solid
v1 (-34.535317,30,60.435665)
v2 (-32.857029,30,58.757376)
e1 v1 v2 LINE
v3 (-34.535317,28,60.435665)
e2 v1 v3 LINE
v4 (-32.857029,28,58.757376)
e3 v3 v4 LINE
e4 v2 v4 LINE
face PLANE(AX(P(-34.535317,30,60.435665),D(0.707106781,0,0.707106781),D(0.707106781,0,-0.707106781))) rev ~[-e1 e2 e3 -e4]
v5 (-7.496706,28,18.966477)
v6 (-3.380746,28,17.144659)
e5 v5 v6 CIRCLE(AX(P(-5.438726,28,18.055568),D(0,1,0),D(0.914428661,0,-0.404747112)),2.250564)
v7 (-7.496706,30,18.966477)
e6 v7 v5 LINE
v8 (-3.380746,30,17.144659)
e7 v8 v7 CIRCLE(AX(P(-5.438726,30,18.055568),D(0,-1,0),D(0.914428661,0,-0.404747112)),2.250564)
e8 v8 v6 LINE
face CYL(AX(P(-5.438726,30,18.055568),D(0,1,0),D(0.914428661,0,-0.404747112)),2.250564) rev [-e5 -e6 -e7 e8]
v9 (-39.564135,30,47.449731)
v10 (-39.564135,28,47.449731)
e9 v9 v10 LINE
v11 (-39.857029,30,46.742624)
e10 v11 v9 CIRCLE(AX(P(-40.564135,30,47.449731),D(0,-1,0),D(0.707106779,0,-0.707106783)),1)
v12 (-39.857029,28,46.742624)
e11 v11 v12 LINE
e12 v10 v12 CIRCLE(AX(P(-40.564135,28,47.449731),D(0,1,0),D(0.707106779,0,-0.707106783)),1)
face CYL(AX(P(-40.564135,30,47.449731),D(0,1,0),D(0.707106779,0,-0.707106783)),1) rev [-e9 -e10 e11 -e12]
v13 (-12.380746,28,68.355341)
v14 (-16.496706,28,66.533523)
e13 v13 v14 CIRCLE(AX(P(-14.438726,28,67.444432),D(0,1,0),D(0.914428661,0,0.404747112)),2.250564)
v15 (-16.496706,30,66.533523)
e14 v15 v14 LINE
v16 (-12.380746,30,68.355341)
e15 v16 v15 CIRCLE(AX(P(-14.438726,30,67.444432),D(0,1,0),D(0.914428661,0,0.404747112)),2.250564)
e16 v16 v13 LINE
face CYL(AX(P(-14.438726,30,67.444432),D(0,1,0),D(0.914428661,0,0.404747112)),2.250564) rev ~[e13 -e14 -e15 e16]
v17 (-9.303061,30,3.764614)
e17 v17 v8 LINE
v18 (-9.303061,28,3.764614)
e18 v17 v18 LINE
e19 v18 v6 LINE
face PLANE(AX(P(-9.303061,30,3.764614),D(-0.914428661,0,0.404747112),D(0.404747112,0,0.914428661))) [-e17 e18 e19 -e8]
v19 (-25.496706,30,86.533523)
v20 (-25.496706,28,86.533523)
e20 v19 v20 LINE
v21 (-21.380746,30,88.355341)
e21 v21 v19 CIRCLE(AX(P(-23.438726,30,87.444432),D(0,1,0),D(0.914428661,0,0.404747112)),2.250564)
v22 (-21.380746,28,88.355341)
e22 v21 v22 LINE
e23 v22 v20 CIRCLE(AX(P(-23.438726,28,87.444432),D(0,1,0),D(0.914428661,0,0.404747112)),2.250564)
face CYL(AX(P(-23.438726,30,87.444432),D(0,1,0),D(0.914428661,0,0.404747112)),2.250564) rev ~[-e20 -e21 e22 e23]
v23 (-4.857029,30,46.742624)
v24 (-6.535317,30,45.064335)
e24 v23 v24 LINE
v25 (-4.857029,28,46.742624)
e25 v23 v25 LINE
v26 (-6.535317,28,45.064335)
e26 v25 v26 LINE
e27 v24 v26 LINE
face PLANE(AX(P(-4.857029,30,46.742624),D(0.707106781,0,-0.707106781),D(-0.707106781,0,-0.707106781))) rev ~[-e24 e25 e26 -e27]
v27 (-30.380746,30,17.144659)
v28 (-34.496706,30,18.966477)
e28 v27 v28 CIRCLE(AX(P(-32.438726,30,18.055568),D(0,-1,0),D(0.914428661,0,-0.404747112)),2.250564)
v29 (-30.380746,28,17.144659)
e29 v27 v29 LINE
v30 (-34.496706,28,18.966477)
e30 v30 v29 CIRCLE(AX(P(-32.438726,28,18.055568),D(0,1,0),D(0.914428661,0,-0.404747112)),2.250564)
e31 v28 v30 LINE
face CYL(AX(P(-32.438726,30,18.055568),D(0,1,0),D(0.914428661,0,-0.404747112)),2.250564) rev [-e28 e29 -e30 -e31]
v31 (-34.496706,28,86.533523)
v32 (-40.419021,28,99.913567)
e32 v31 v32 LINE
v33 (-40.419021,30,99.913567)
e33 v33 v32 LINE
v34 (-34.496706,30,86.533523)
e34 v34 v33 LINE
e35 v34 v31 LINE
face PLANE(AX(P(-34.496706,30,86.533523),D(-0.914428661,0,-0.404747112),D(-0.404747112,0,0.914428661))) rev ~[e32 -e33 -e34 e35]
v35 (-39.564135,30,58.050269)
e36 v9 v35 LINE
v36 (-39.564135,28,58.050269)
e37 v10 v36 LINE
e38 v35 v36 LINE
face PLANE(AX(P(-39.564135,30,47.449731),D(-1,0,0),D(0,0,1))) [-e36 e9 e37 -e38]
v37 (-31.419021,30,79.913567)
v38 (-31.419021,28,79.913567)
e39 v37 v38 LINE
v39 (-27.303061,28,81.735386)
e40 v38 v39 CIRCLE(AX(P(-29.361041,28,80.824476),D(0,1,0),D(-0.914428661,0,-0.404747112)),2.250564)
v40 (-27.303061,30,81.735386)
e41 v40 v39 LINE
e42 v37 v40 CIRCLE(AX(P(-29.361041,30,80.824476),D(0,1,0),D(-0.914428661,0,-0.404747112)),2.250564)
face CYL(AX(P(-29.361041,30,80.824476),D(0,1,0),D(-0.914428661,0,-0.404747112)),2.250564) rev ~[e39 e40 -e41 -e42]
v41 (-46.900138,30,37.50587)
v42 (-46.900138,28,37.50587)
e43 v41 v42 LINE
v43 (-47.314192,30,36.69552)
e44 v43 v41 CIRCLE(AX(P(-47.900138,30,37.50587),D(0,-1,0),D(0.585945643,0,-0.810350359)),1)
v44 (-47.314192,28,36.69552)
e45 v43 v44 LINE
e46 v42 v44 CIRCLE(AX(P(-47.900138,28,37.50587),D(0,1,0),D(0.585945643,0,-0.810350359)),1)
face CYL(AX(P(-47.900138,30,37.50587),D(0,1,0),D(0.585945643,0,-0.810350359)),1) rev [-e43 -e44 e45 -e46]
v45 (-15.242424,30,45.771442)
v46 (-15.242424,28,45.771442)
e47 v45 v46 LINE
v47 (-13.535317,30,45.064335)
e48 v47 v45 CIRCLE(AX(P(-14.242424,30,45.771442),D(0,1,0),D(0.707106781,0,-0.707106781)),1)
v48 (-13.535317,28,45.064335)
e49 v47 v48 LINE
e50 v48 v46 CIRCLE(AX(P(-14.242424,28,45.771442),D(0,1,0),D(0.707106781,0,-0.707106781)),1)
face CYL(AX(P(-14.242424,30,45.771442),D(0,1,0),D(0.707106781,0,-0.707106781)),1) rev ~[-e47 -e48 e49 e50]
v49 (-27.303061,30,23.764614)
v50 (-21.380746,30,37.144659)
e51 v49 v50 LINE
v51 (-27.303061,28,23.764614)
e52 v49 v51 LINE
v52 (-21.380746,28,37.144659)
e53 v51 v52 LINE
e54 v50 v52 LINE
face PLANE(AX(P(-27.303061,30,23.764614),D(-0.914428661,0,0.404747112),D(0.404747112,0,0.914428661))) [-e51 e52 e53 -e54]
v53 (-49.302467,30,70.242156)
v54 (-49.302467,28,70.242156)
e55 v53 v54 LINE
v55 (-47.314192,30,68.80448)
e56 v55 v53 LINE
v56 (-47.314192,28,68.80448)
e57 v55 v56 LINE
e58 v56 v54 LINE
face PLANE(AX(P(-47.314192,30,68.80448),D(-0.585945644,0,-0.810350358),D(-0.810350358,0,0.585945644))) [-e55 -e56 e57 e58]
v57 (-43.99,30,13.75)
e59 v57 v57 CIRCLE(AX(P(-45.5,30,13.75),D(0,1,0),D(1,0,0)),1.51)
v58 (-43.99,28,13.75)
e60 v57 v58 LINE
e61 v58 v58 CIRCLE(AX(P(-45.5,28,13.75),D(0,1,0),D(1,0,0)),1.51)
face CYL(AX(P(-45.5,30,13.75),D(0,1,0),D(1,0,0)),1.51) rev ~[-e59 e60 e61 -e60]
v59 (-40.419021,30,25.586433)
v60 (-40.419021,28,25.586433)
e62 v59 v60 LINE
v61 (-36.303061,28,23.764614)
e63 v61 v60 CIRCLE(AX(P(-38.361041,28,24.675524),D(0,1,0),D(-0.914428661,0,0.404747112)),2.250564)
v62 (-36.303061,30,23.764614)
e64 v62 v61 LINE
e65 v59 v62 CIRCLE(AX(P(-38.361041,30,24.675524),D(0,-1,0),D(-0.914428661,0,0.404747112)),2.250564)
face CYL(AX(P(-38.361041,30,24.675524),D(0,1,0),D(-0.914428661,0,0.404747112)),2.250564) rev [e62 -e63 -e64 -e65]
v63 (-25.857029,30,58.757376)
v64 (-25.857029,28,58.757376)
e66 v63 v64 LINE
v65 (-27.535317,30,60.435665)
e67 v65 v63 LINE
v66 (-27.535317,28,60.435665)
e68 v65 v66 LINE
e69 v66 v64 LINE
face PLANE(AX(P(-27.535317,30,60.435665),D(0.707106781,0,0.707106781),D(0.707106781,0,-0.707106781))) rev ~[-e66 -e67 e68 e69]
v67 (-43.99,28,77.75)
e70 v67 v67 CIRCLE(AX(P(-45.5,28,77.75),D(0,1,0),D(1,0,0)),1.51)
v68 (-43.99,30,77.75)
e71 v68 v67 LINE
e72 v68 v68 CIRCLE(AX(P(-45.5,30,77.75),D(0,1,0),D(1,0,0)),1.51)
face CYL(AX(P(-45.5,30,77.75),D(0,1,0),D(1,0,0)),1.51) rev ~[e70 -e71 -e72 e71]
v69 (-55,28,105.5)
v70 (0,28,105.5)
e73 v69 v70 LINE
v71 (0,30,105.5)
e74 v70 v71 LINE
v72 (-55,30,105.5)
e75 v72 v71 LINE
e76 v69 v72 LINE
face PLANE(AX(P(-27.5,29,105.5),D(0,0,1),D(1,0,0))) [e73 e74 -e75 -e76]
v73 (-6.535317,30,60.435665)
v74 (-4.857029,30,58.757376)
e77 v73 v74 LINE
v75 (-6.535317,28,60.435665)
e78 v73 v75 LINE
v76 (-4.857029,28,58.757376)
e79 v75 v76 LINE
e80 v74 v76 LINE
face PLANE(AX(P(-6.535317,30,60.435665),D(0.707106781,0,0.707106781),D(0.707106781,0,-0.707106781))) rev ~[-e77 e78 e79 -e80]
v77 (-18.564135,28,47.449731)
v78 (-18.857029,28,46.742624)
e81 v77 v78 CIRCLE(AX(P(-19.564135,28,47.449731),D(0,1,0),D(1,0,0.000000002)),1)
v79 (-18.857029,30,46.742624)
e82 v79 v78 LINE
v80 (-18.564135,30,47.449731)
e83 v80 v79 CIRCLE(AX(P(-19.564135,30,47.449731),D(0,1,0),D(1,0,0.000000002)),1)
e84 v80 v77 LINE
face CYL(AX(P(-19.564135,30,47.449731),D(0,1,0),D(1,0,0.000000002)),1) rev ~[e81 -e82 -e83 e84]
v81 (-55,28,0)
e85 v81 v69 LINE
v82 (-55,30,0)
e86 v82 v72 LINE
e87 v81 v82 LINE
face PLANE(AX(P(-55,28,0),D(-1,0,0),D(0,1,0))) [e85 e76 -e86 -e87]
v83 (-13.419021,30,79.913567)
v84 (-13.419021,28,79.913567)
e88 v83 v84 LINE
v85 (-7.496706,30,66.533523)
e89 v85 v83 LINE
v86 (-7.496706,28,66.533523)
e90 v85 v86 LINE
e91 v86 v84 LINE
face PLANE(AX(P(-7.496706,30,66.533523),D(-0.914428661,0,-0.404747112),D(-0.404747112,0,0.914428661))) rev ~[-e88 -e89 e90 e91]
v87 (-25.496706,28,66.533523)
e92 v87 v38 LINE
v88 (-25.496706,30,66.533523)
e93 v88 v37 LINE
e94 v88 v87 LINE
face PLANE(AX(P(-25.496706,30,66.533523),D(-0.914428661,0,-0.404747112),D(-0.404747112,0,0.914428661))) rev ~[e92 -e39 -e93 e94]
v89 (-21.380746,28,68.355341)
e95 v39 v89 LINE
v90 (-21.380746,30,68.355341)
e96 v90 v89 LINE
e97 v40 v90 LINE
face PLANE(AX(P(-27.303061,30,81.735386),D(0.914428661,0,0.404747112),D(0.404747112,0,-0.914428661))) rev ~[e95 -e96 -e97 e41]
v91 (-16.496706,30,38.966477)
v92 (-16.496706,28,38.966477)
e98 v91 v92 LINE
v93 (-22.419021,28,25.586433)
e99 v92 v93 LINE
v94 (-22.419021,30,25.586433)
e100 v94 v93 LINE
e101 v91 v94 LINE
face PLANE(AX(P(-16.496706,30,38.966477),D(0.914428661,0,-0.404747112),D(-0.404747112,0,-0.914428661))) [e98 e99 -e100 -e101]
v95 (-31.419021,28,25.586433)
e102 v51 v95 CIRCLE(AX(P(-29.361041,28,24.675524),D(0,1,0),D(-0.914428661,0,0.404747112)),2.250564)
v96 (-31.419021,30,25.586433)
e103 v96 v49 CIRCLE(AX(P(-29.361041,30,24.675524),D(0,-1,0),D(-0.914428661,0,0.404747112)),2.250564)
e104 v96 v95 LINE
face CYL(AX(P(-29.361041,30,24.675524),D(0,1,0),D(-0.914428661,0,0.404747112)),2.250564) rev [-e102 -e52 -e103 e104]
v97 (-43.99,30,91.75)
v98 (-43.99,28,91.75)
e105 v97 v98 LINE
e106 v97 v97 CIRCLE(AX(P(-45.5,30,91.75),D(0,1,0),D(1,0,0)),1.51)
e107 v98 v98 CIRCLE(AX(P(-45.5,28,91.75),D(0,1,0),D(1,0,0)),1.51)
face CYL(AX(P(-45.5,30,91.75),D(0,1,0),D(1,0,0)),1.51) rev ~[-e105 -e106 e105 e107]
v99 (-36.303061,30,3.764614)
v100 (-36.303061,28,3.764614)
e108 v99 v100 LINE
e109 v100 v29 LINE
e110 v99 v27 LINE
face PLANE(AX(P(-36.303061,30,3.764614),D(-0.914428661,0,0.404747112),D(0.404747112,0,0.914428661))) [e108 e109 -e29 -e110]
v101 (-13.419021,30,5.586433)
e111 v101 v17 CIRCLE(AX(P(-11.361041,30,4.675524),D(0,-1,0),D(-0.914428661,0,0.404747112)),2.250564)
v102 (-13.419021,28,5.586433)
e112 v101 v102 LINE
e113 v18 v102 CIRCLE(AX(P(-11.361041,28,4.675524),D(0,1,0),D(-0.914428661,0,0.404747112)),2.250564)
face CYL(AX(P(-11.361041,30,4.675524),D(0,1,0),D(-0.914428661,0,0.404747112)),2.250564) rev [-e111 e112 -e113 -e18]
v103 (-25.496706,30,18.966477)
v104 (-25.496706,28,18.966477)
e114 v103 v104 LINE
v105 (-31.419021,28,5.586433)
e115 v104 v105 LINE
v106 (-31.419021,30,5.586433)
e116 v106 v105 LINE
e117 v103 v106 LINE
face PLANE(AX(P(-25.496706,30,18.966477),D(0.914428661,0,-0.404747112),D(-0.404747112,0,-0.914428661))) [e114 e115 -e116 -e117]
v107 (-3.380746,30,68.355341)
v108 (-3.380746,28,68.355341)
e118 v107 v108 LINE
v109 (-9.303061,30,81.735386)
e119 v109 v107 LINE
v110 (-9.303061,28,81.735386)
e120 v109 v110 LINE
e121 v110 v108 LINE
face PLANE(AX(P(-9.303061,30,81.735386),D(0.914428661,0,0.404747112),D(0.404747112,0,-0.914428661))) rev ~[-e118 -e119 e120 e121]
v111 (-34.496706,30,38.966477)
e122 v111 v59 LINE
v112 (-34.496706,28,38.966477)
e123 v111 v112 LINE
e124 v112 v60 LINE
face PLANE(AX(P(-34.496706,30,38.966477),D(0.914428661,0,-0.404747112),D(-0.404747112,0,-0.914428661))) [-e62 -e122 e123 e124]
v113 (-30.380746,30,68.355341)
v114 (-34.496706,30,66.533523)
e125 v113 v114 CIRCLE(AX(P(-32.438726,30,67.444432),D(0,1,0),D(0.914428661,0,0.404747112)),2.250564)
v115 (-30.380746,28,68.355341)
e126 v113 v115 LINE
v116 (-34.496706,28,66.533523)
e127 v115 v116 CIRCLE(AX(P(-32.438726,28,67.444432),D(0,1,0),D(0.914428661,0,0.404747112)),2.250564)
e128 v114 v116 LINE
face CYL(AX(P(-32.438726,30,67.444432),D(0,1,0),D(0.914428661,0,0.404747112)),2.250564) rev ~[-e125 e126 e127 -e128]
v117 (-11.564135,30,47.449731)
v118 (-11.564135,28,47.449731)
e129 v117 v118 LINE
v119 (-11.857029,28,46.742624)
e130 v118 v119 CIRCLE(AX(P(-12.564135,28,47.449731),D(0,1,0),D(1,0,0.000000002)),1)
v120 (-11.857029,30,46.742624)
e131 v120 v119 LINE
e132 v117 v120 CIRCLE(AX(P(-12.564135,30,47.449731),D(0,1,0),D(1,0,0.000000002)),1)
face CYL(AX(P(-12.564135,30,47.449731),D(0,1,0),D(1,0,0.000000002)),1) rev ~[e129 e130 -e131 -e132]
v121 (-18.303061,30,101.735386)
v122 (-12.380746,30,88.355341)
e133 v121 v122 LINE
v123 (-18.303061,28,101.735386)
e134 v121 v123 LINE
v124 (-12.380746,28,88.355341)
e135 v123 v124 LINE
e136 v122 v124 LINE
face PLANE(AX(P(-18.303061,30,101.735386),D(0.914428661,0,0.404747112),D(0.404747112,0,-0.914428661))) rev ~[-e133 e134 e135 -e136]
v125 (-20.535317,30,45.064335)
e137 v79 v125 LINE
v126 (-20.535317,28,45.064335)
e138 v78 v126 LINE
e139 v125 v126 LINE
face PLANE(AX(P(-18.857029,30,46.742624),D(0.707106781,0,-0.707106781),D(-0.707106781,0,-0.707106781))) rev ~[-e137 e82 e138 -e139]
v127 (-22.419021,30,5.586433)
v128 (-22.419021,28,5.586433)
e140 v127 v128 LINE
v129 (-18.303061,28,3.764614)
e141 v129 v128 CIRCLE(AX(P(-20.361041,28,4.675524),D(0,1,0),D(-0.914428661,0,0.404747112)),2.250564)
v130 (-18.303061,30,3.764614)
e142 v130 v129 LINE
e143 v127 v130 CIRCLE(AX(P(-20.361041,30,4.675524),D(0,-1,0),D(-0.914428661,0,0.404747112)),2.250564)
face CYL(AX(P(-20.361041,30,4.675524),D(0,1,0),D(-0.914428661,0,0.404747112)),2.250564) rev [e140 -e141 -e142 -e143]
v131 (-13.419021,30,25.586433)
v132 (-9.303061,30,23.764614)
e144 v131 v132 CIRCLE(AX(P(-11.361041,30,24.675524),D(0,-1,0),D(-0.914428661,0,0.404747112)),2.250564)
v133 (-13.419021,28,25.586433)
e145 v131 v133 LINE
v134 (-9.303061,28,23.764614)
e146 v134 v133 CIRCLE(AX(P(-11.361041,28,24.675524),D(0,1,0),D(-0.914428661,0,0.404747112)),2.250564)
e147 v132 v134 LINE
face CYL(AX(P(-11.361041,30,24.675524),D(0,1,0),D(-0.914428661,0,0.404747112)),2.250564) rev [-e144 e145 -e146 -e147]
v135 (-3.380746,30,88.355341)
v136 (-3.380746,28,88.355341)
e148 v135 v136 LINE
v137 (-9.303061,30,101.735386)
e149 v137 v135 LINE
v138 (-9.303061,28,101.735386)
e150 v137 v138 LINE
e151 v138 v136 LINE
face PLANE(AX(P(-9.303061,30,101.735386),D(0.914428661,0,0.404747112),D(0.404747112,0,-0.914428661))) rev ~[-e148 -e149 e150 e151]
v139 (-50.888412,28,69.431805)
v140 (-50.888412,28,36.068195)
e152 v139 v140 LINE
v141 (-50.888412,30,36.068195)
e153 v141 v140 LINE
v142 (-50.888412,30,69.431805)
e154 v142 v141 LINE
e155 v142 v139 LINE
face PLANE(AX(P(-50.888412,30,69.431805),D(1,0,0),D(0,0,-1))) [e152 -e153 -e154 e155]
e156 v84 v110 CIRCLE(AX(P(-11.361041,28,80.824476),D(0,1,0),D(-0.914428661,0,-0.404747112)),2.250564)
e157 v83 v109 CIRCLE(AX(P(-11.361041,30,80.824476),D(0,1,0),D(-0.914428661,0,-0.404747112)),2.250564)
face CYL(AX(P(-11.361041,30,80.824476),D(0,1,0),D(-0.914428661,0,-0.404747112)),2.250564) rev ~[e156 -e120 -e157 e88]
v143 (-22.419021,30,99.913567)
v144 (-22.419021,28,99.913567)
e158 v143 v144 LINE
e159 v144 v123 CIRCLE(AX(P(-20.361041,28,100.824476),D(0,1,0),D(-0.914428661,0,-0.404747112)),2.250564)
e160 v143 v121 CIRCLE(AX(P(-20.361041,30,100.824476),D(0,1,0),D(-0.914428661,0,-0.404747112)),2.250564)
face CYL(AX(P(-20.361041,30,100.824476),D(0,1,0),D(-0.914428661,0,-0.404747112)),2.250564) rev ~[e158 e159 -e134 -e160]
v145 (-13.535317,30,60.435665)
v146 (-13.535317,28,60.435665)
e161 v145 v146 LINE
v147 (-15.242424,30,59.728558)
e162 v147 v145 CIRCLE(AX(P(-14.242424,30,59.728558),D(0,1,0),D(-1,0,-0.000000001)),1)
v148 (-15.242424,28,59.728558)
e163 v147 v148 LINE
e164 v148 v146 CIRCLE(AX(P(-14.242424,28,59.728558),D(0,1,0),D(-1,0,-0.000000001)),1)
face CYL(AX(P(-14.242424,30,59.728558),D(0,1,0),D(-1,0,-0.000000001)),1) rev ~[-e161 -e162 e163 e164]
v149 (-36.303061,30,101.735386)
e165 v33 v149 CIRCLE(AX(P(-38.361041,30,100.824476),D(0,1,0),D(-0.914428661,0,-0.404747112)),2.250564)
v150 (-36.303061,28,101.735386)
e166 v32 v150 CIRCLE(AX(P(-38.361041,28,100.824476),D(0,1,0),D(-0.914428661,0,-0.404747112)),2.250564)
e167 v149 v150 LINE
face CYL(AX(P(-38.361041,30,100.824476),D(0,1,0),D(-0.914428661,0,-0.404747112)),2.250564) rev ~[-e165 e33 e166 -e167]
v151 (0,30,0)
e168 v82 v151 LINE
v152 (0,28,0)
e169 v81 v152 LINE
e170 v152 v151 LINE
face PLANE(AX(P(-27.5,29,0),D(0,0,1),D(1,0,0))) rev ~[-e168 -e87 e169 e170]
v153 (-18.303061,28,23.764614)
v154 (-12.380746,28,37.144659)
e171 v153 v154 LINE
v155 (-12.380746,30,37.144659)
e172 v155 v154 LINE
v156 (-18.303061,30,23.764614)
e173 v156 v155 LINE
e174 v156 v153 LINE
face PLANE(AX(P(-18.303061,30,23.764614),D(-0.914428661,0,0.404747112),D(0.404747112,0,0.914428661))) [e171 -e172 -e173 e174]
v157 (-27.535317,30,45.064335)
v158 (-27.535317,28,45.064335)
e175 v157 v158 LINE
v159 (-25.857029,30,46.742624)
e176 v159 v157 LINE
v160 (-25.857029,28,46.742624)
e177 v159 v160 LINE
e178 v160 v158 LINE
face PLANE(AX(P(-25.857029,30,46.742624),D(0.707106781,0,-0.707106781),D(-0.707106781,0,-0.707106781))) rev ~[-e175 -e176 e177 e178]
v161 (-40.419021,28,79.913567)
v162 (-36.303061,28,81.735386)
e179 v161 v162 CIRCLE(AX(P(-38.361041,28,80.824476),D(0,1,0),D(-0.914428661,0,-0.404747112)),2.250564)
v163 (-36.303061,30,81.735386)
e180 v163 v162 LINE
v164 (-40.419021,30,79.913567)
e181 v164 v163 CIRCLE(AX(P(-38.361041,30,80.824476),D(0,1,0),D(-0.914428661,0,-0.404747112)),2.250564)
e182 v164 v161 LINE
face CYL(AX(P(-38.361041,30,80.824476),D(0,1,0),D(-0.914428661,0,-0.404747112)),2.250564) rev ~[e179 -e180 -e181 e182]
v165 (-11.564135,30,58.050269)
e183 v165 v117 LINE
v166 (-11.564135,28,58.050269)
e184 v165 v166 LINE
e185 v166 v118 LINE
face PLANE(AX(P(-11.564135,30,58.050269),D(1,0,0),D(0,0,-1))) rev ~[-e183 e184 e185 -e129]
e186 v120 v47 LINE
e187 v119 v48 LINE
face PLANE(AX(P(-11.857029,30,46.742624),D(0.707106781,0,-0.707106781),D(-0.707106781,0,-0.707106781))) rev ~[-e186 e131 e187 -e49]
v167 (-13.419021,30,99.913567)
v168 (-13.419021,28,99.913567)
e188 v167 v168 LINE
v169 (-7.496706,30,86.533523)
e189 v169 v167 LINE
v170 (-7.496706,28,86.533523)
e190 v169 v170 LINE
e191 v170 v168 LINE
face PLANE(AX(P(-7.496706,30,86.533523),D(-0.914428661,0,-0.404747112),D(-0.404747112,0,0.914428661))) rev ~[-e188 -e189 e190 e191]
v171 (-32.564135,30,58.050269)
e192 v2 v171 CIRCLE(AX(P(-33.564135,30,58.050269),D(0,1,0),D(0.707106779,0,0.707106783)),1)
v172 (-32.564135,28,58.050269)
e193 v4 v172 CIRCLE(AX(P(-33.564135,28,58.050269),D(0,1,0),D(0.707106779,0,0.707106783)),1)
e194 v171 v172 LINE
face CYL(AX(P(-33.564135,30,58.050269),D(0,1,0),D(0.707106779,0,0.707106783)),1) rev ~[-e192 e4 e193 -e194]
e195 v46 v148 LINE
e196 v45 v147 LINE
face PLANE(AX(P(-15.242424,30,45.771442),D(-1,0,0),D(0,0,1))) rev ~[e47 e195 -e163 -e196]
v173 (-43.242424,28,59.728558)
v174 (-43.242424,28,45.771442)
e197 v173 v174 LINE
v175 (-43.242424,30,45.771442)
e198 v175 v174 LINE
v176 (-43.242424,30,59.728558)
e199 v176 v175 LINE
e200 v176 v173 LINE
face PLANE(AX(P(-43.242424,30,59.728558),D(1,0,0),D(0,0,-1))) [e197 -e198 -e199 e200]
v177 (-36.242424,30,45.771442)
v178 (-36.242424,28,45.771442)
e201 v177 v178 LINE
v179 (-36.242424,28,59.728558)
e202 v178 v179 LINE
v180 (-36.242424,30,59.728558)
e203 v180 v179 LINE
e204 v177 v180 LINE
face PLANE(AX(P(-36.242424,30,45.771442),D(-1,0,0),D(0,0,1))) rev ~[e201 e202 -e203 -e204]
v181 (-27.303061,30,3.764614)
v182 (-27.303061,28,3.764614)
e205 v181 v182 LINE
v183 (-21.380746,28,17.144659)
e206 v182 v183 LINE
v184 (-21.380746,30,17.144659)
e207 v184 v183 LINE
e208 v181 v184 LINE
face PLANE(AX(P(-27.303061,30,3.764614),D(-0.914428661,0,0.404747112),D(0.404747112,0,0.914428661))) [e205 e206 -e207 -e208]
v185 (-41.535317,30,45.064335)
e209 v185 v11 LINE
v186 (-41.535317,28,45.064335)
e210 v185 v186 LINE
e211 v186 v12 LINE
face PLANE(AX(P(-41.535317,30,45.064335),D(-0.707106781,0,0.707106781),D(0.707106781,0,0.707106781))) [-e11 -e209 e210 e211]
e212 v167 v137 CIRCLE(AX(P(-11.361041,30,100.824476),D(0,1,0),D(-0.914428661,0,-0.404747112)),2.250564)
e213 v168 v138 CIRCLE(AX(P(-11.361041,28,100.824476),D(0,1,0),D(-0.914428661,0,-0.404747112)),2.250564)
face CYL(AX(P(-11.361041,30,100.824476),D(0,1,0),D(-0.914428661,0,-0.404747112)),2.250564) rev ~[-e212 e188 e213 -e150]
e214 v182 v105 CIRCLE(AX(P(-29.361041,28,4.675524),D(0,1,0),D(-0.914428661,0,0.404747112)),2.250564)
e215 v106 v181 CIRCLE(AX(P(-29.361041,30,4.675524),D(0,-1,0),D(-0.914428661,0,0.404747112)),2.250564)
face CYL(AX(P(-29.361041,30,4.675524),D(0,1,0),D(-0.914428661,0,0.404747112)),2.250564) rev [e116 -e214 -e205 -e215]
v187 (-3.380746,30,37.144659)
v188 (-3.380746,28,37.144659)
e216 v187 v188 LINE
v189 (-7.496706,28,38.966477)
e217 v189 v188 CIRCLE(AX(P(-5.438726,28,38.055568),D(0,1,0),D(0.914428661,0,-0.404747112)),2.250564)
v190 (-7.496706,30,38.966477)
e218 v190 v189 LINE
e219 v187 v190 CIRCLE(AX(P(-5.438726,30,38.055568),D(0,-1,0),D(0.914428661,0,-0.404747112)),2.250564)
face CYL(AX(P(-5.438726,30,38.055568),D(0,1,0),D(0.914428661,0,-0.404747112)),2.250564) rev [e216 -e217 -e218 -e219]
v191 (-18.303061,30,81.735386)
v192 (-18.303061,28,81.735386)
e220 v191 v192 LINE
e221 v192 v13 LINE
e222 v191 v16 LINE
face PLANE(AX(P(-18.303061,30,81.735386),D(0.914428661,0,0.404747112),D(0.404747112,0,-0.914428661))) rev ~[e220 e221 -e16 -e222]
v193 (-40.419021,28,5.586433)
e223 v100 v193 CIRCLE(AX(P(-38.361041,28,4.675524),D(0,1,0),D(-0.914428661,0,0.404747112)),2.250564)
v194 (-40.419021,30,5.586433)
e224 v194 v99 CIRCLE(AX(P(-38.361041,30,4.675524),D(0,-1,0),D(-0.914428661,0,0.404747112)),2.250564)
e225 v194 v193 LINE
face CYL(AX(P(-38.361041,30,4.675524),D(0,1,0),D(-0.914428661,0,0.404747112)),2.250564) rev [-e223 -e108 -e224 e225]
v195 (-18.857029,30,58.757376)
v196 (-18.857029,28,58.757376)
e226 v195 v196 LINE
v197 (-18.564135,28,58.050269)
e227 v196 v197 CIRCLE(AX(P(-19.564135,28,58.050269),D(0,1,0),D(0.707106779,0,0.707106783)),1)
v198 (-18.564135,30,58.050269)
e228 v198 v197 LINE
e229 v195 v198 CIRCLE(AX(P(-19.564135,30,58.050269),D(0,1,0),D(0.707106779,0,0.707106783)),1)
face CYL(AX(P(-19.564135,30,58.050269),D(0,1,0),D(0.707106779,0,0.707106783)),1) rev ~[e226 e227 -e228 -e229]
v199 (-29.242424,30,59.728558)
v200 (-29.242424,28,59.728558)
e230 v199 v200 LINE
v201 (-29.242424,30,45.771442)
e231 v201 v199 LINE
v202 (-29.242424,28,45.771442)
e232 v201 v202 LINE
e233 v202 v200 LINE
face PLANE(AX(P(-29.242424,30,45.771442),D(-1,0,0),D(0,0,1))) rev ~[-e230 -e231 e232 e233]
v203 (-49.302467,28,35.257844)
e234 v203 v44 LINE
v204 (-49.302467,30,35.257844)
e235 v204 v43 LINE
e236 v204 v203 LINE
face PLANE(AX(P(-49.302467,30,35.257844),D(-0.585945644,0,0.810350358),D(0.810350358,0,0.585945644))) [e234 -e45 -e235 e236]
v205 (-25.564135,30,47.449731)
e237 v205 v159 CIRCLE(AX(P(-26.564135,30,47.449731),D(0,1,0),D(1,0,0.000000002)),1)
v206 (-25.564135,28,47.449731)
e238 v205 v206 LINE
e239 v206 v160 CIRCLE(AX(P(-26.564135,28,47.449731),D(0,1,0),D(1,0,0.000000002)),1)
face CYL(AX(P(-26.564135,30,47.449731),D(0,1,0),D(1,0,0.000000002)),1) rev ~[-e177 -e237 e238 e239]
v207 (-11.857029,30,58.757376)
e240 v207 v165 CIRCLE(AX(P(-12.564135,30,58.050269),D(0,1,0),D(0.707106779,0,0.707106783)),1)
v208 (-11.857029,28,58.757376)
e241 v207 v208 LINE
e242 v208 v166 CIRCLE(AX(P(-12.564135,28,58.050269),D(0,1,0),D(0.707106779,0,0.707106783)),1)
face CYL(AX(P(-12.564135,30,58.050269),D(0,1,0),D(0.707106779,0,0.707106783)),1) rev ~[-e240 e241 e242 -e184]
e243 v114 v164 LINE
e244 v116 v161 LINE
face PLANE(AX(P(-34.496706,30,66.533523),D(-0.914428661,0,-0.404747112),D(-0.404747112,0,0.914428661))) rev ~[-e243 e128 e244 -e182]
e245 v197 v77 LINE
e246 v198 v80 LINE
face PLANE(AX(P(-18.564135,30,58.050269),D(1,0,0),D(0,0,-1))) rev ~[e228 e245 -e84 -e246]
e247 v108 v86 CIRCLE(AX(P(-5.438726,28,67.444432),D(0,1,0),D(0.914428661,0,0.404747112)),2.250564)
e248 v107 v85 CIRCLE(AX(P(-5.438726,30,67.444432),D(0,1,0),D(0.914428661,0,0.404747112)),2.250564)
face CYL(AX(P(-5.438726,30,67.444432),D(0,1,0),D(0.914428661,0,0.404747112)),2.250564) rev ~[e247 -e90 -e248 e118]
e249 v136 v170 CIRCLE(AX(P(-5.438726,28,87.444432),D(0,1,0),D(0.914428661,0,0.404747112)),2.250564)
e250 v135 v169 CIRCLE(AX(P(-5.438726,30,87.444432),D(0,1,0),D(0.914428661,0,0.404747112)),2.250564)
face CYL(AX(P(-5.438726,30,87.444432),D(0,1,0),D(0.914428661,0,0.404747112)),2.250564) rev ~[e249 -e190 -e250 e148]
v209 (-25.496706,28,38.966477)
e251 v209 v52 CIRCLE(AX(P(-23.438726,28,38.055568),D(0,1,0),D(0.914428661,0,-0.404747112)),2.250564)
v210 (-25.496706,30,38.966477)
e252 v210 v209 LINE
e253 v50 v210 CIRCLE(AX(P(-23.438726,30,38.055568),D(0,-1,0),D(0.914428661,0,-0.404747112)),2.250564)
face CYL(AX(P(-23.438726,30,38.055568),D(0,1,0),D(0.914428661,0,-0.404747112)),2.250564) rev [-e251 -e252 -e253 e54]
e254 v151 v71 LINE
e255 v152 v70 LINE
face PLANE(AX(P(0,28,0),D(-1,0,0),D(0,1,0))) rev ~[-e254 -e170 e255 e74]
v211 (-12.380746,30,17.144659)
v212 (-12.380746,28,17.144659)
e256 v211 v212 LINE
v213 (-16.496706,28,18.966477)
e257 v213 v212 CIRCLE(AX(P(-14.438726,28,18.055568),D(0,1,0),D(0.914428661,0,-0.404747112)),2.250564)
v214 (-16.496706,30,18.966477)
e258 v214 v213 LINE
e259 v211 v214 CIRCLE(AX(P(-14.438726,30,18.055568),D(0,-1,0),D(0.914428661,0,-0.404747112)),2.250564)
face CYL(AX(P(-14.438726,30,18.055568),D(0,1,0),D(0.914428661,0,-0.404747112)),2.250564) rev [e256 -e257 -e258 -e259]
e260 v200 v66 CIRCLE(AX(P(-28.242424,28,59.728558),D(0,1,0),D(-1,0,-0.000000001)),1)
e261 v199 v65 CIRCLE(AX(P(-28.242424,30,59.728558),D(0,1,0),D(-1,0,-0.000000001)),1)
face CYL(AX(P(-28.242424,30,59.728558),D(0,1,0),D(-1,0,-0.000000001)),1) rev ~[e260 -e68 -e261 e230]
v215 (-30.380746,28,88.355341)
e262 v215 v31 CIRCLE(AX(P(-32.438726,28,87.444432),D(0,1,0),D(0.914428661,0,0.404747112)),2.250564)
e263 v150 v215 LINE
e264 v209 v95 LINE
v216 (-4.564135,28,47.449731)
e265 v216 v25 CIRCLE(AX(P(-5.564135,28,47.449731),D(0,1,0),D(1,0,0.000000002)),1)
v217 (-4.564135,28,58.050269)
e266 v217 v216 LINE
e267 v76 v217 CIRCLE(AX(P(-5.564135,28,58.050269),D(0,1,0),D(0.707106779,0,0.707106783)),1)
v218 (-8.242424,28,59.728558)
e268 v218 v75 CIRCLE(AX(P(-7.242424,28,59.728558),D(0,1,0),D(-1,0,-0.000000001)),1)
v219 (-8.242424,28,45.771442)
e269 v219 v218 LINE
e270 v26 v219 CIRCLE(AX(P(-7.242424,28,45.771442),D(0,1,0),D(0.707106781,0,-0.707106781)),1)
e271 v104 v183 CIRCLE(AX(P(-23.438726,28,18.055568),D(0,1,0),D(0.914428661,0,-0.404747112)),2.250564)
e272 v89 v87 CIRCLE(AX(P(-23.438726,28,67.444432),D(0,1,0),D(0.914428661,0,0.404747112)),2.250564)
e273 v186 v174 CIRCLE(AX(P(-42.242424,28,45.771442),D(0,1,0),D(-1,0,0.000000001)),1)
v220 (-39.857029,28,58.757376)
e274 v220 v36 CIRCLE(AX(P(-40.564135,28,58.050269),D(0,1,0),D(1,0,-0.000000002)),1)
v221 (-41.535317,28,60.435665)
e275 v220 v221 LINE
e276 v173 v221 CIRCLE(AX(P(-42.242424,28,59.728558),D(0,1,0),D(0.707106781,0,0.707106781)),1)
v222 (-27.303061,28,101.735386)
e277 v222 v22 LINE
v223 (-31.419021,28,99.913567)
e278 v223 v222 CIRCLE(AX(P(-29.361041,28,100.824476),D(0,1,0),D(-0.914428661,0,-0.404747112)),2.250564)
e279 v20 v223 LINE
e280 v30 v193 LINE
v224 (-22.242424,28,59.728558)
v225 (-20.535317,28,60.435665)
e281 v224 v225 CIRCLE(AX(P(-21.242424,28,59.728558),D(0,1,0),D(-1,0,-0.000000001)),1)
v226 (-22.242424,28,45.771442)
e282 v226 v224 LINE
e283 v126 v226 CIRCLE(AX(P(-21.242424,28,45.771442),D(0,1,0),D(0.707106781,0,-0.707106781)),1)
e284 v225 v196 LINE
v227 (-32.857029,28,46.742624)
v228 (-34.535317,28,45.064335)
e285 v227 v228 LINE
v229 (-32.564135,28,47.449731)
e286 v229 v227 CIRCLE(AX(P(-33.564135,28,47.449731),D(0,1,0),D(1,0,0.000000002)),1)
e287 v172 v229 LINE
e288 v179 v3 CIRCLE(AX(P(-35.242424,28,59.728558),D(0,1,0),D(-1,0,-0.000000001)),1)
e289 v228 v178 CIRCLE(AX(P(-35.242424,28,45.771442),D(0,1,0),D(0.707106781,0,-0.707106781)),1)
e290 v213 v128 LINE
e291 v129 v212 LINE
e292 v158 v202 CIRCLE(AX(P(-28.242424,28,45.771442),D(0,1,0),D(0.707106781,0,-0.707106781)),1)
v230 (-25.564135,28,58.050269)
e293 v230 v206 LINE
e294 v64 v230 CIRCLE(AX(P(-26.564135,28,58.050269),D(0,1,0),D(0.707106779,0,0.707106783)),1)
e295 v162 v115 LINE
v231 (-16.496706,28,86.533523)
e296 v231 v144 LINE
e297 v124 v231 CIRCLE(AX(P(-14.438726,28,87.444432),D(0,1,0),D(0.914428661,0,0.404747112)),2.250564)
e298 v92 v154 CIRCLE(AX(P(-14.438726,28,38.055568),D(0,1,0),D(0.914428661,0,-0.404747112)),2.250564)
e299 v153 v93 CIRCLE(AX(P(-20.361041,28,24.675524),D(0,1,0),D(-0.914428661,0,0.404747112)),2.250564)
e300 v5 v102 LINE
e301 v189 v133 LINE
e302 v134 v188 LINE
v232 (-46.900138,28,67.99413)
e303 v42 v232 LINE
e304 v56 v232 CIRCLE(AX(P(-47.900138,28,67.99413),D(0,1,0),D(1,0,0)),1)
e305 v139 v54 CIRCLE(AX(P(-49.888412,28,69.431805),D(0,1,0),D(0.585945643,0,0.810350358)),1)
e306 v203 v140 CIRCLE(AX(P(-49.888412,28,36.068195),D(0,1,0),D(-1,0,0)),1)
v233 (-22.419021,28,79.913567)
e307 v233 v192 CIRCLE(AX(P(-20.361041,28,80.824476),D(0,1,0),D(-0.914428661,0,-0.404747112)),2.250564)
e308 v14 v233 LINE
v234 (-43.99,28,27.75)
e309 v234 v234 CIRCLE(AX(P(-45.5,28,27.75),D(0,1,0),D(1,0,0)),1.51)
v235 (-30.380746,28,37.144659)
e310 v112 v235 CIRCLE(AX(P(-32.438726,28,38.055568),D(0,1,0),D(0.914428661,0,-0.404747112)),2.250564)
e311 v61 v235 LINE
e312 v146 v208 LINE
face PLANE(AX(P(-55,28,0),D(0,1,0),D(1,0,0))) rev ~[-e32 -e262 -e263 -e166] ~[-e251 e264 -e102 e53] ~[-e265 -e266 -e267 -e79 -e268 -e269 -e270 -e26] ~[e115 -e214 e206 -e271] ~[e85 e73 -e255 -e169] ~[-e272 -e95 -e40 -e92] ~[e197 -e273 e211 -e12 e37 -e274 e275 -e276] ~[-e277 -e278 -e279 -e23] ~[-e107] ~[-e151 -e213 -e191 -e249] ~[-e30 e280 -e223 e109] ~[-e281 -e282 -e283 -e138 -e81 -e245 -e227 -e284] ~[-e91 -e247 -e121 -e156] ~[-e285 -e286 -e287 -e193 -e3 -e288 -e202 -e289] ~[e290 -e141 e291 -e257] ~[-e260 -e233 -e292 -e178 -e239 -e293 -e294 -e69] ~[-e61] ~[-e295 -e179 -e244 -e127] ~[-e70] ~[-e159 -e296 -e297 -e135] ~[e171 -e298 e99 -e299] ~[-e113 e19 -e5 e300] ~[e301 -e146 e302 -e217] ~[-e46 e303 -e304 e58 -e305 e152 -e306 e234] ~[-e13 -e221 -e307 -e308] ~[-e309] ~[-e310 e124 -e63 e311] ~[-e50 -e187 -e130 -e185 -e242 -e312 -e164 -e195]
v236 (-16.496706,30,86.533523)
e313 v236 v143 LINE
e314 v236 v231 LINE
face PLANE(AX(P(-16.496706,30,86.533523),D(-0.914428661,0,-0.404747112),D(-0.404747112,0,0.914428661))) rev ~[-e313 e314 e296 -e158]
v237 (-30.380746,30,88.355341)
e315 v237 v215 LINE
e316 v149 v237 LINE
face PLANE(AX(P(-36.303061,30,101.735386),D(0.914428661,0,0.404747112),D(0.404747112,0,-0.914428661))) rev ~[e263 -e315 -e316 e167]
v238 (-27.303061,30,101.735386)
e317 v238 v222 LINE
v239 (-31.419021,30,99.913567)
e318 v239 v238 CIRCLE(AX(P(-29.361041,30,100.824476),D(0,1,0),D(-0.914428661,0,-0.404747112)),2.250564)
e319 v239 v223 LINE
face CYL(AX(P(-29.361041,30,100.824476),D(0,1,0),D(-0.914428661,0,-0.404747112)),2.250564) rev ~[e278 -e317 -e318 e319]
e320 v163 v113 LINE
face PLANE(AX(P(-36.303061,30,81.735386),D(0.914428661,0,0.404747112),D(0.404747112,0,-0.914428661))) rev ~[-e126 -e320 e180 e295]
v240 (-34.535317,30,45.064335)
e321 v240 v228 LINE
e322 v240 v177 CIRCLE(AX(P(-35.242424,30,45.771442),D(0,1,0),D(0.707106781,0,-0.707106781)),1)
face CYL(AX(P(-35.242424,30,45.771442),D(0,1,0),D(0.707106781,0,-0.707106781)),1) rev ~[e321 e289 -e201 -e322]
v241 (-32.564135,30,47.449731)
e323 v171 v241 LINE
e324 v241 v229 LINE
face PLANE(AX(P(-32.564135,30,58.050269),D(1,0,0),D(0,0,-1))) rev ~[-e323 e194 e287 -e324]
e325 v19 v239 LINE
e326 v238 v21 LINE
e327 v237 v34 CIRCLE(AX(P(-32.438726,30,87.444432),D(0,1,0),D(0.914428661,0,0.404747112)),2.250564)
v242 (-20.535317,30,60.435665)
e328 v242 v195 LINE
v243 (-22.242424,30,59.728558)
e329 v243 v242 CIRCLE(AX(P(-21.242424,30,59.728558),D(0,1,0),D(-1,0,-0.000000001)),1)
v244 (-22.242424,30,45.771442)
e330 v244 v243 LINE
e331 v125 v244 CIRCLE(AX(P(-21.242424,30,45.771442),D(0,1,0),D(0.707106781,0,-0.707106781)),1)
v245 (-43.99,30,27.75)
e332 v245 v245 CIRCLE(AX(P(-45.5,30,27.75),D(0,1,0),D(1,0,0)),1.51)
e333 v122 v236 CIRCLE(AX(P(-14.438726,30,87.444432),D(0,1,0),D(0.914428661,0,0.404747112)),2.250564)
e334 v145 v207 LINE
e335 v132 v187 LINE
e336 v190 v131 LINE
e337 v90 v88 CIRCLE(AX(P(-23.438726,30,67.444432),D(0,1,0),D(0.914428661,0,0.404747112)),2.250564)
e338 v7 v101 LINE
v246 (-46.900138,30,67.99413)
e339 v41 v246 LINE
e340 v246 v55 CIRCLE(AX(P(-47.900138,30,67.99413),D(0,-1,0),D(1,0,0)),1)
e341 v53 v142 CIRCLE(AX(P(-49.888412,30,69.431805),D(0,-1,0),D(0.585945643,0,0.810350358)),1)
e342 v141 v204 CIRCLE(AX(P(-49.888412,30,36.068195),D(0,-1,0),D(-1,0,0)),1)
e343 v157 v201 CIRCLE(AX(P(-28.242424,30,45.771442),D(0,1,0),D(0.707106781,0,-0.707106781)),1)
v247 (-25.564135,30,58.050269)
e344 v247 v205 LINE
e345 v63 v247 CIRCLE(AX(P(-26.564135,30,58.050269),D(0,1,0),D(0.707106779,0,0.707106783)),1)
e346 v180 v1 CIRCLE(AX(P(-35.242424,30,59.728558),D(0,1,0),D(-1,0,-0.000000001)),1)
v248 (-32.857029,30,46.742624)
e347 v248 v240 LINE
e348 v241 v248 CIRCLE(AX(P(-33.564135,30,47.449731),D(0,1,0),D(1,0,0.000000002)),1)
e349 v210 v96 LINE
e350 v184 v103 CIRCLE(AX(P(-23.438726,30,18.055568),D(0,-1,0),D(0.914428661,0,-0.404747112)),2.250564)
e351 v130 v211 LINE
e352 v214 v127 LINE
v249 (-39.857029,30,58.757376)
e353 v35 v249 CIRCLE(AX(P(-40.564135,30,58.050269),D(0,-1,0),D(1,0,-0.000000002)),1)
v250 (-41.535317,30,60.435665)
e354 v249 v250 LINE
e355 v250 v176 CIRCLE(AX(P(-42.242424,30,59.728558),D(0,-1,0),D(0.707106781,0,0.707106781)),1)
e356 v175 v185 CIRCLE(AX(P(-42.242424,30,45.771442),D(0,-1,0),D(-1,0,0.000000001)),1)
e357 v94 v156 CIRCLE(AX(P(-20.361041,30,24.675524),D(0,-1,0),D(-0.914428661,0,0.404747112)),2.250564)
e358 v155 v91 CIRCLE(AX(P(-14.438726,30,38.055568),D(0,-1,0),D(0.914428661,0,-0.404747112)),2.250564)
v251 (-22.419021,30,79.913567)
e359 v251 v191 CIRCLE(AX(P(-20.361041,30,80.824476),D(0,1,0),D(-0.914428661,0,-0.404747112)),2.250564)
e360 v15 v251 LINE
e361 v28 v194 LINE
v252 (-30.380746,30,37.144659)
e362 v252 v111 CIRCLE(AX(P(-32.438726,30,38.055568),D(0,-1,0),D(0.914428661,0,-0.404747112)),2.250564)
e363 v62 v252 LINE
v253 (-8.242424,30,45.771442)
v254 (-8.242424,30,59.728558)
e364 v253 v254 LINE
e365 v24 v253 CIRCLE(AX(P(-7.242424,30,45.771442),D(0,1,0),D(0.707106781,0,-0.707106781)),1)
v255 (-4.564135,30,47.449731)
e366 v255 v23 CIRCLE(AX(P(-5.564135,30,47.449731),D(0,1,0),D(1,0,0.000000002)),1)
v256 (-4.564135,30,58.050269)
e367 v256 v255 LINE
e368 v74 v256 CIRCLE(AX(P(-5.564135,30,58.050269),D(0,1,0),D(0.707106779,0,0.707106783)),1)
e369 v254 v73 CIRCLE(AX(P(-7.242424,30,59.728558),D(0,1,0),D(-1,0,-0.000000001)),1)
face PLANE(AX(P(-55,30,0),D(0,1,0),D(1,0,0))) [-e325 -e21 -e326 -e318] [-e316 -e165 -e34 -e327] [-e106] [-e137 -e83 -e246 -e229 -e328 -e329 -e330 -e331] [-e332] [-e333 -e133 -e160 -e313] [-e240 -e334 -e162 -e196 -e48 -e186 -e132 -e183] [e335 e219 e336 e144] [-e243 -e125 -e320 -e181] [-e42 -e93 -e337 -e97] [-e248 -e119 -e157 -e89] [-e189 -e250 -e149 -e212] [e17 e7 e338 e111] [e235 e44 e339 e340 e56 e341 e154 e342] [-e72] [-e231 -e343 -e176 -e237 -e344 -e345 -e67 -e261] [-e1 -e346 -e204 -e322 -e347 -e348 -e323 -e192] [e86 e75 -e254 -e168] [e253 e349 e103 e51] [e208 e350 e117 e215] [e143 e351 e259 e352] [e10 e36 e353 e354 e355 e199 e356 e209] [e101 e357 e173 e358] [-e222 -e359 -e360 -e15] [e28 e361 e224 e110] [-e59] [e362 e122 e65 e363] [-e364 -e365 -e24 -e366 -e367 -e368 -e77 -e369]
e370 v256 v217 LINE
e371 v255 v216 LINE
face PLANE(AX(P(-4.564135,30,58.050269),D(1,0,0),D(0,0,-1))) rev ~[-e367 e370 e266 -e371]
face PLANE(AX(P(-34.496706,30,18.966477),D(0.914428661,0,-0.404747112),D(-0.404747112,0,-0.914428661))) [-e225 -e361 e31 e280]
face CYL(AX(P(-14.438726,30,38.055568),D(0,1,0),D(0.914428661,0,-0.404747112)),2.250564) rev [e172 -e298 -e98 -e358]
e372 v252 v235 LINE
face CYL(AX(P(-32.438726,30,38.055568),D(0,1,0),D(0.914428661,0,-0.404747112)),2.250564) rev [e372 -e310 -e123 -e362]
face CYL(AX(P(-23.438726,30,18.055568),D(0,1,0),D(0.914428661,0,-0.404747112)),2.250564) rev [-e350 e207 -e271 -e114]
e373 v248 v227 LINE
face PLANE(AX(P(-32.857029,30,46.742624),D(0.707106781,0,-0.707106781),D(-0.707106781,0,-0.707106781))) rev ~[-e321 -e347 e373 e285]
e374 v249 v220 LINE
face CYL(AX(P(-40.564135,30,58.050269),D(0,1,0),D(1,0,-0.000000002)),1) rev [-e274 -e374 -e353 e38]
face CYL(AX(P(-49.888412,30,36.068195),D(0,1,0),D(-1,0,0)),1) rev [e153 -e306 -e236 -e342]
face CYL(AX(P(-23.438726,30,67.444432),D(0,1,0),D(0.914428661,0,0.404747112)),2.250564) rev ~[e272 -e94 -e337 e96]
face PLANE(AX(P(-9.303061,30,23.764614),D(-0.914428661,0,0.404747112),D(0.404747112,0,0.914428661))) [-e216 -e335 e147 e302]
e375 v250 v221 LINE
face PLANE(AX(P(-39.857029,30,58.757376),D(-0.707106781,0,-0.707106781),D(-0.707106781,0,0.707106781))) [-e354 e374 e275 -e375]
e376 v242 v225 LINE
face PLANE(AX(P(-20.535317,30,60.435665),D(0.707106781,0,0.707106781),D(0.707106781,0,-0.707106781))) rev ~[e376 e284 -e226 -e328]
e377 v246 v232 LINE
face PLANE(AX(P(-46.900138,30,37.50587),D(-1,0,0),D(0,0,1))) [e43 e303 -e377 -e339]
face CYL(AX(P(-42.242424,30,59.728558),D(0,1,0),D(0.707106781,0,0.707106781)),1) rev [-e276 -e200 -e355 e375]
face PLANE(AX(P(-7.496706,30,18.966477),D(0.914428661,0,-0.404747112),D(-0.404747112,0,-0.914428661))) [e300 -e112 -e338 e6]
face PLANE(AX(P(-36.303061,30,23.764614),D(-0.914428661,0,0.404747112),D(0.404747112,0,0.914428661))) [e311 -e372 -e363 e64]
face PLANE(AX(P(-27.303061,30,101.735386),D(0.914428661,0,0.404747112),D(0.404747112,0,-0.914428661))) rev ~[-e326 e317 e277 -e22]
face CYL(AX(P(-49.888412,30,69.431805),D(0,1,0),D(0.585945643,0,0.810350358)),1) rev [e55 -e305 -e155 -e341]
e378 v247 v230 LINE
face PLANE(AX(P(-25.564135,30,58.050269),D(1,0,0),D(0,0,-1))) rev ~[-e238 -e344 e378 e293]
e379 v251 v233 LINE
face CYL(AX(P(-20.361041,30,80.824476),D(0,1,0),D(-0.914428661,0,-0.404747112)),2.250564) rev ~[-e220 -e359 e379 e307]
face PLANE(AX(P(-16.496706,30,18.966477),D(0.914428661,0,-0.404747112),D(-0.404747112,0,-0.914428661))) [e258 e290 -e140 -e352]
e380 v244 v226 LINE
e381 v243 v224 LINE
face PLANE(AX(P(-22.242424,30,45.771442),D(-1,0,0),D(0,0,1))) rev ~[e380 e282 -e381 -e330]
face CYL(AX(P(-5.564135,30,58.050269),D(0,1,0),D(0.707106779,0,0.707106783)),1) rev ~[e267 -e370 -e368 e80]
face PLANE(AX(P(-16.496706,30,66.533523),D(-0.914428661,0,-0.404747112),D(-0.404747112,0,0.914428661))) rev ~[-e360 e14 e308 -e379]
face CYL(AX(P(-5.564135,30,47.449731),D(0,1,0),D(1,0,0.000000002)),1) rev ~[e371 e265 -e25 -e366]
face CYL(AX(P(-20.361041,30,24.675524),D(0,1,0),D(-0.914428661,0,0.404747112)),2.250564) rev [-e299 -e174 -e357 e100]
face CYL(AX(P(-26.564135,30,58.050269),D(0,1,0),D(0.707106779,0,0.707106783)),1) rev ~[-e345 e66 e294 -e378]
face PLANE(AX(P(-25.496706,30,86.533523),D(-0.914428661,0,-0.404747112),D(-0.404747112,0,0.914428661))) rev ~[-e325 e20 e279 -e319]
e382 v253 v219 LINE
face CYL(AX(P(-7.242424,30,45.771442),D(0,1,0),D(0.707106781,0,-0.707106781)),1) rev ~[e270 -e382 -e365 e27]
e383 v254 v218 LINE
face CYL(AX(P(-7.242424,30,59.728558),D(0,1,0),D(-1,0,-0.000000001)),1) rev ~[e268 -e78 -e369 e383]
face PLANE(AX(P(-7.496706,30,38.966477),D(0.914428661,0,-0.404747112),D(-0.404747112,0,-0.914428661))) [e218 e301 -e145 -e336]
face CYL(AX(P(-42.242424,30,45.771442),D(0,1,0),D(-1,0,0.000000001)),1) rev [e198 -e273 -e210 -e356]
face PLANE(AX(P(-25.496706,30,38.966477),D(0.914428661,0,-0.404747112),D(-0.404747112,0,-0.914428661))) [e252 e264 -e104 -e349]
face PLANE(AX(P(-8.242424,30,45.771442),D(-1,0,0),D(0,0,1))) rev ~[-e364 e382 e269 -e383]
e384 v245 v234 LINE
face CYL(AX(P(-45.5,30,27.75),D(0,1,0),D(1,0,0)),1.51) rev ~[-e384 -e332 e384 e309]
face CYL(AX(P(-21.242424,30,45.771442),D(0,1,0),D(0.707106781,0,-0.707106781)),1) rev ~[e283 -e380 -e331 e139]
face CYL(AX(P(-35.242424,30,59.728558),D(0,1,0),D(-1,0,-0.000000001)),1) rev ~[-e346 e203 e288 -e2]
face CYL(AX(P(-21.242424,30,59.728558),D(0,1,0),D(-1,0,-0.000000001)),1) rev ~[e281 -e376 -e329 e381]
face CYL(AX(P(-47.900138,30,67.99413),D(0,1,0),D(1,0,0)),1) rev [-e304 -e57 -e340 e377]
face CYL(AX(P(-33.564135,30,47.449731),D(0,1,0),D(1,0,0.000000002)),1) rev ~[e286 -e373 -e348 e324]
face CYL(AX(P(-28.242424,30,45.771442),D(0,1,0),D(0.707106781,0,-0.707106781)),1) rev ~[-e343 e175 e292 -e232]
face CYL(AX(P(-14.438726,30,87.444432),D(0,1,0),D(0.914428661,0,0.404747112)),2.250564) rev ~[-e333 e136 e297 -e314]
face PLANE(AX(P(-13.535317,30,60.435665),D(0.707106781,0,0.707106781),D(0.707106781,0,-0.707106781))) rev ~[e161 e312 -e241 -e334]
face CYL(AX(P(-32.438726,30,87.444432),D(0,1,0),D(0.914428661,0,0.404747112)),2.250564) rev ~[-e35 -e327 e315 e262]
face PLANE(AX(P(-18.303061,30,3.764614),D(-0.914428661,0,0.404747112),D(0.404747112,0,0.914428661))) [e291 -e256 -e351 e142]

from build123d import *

# Parameters (mm, degrees)
SKETCH_1_W          = 55
SKETCH_1_H          = 2
EXTRUDE_1_DEPTH     = 105.5
SKETCH_2_R          = 1.51
CUT_EXTRUDE_1_DEPTH = 3


with BuildPart() as part:
    # 草图1 → 凸台-拉伸1 (new body)
    with BuildSketch(Plane.XY):
        with Locations((-27.5, 29)):
            Rectangle(SKETCH_1_W, SKETCH_1_H)
    extrude(amount=EXTRUDE_1_DEPTH)

    # 草图2 → 切除-拉伸1 (cut, through all)
    with BuildSketch(Plane(origin=(0, 30, 0), x_dir=(1, 0, 0), z_dir=(0, 1, 0))):
        with Locations((-45.5, -13.75)):
            Circle(SKETCH_2_R)
        with Locations((-45.5, -27.75)):
            Circle(SKETCH_2_R)
        with Locations((-45.5, -77.75)):
            Circle(SKETCH_2_R)
        with Locations((-45.5, -91.75)):
            Circle(SKETCH_2_R)
        with BuildLine():
            Line((-9.303061124, -3.764614363), (-3.380746275, -17.144659021))
            ThreePointArc((-3.380746275, -17.144659021), (-4.527817147, -20.113548336), (-7.496706463, -18.966477464))
            Line((-7.496706463, -18.966477464), (-13.419021311, -5.586432806))
            ThreePointArc((-13.419021311, -5.586432806), (-12.271950439, -2.617543491), (-9.303061124, -3.764614363))
        make_face()
        with BuildLine():
            Line((-18.303061124, -3.764614363), (-12.380746275, -17.144659021))
            ThreePointArc((-12.380746275, -17.144659021), (-13.527817147, -20.113548336), (-16.496706463, -18.966477464))
            Line((-16.496706463, -18.966477464), (-22.419021311, -5.586432806))
            ThreePointArc((-22.419021311, -5.586432806), (-21.271950439, -2.617543491), (-18.303061124, -3.764614363))
        make_face()
        with BuildLine():
            Line((-27.303061124, -3.764614363), (-21.380746275, -17.144659021))
            ThreePointArc((-21.380746275, -17.144659021), (-22.527817147, -20.113548336), (-25.496706463, -18.966477464))
            Line((-25.496706463, -18.966477464), (-31.419021311, -5.586432806))
            ThreePointArc((-31.419021311, -5.586432806), (-30.271950439, -2.617543491), (-27.303061124, -3.764614363))
        make_face()
        with BuildLine():
            Line((-36.303061124, -3.764614363), (-30.380746275, -17.144659021))
            ThreePointArc((-30.380746275, -17.144659021), (-31.527817147, -20.113548336), (-34.496706463, -18.966477464))
            Line((-34.496706463, -18.966477464), (-40.419021311, -5.586432806))
            ThreePointArc((-40.419021311, -5.586432806), (-39.271950439, -2.617543491), (-36.303061124, -3.764614363))
        make_face()
        with BuildLine():
            Line((-9.303061124, -23.764614363), (-3.380746275, -37.144659021))
            ThreePointArc((-3.380746275, -37.144659021), (-4.527817147, -40.113548336), (-7.496706463, -38.966477464))
            Line((-7.496706463, -38.966477464), (-13.419021311, -25.586432806))
            ThreePointArc((-13.419021311, -25.586432806), (-12.271950439, -22.617543491), (-9.303061124, -23.764614363))
        make_face()
        with BuildLine():
            Line((-18.303061124, -23.764614363), (-12.380746275, -37.144659021))
            ThreePointArc((-12.380746275, -37.144659021), (-13.527817147, -40.113548336), (-16.496706463, -38.966477464))
            Line((-16.496706463, -38.966477464), (-22.419021311, -25.586432806))
            ThreePointArc((-22.419021311, -25.586432806), (-21.271950439, -22.617543491), (-18.303061124, -23.764614363))
        make_face()
        with BuildLine():
            Line((-27.303061124, -23.764614363), (-21.380746275, -37.144659021))
            ThreePointArc((-21.380746275, -37.144659021), (-22.527817147, -40.113548336), (-25.496706463, -38.966477464))
            Line((-25.496706463, -38.966477464), (-31.419021311, -25.586432806))
            ThreePointArc((-31.419021311, -25.586432806), (-30.271950439, -22.617543491), (-27.303061124, -23.764614363))
        make_face()
        with BuildLine():
            Line((-36.303061124, -23.764614363), (-30.380746275, -37.144659021))
            ThreePointArc((-30.380746275, -37.144659021), (-31.527817147, -40.113548336), (-34.496706463, -38.966477464))
            Line((-34.496706463, -38.966477464), (-40.419021311, -25.586432806))
            ThreePointArc((-40.419021311, -25.586432806), (-39.271950439, -22.617543491), (-36.303061124, -23.764614363))
        make_face()
        with BuildLine():
            Line((-9.303061124, -81.735385637), (-3.380746275, -68.355340979))
            ThreePointArc((-3.380746275, -68.355340979), (-4.527817147, -65.386451664), (-7.496706463, -66.533522536))
            Line((-7.496706463, -66.533522536), (-13.419021311, -79.913567194))
            ThreePointArc((-13.419021311, -79.913567194), (-12.271950439, -82.882456509), (-9.303061124, -81.735385637))
        make_face()
        with BuildLine():
            Line((-18.303061124, -81.735385637), (-12.380746275, -68.355340979))
            ThreePointArc((-12.380746275, -68.355340979), (-13.527817147, -65.386451664), (-16.496706463, -66.533522536))
            Line((-16.496706463, -66.533522536), (-22.419021311, -79.913567194))
            ThreePointArc((-22.419021311, -79.913567194), (-21.271950439, -82.882456509), (-18.303061124, -81.735385637))
        make_face()
        with BuildLine():
            Line((-27.303061124, -81.735385637), (-21.380746275, -68.355340979))
            ThreePointArc((-21.380746275, -68.355340979), (-22.527817147, -65.386451664), (-25.496706463, -66.533522536))
            Line((-25.496706463, -66.533522536), (-31.419021311, -79.913567194))
            ThreePointArc((-31.419021311, -79.913567194), (-30.271950439, -82.882456509), (-27.303061124, -81.735385637))
        make_face()
        with BuildLine():
            Line((-36.303061124, -81.735385637), (-30.380746275, -68.355340979))
            ThreePointArc((-30.380746275, -68.355340979), (-31.527817147, -65.386451664), (-34.496706463, -66.533522536))
            Line((-34.496706463, -66.533522536), (-40.419021311, -79.913567194))
            ThreePointArc((-40.419021311, -79.913567194), (-39.271950439, -82.882456509), (-36.303061124, -81.735385637))
        make_face()
        with BuildLine():
            Line((-36.303061124, -101.735385637), (-30.380746275, -88.355340979))
            ThreePointArc((-30.380746275, -88.355340979), (-31.527817147, -85.386451664), (-34.496706463, -86.533522536))
            Line((-34.496706463, -86.533522536), (-40.419021311, -99.913567194))
            ThreePointArc((-40.419021311, -99.913567194), (-39.271950439, -102.882456509), (-36.303061124, -101.735385637))
        make_face()
        with BuildLine():
            Line((-27.303061124, -101.735385637), (-21.380746275, -88.355340979))
            ThreePointArc((-21.380746275, -88.355340979), (-22.527817147, -85.386451664), (-25.496706463, -86.533522536))
            Line((-25.496706463, -86.533522536), (-31.419021311, -99.913567194))
            ThreePointArc((-31.419021311, -99.913567194), (-30.271950439, -102.882456509), (-27.303061124, -101.735385637))
        make_face()
        with BuildLine():
            Line((-18.303061124, -101.735385637), (-12.380746275, -88.355340979))
            ThreePointArc((-12.380746275, -88.355340979), (-13.527817147, -85.386451664), (-16.496706463, -86.533522536))
            Line((-16.496706463, -86.533522536), (-22.419021311, -99.913567194))
            ThreePointArc((-22.419021311, -99.913567194), (-21.271950439, -102.882456509), (-18.303061124, -101.735385637))
        make_face()
        with BuildLine():
            Line((-9.303061124, -101.735385637), (-3.380746275, -88.355340979))
            ThreePointArc((-3.380746275, -88.355340979), (-4.527817147, -85.386451664), (-7.496706463, -86.533522536))
            Line((-7.496706463, -86.533522536), (-13.419021311, -99.913567194))
            ThreePointArc((-13.419021311, -99.913567194), (-12.271950439, -102.882456509), (-9.303061124, -101.735385637))
        make_face()
        with BuildLine():
            Line((-50.888412256, -69.431805303), (-50.888412256, -36.068194697))
            ThreePointArc((-50.888412256, -36.068194697), (-50.34341465, -35.177704483), (-49.302466613, -35.257844339))
            Line((-49.302466613, -35.257844339), (-47.314192301, -36.695519611))
            ThreePointArc((-47.314192301, -36.695519611), (-47.00964773, -37.050867575), (-46.900137944, -37.505869969))
            Line((-46.900137944, -37.505869969), (-46.900137944, -67.994130031))
            ThreePointArc((-46.900137944, -67.994130031), (-47.00964773, -68.449132425), (-47.314192301, -68.804480389))
            Line((-47.314192301, -68.804480389), (-49.302466613, -70.242155661))
            ThreePointArc((-49.302466613, -70.242155661), (-50.34341465, -70.322295517), (-50.888412256, -69.431805303))
        make_face()
        with BuildLine():
            Line((-43.242423956, -59.728557962), (-43.242423956, -45.771442038))
            ThreePointArc((-43.242423956, -45.771442038), (-42.625107389, -44.847562505), (-41.535317175, -45.064335256))
            Line((-41.535317175, -45.064335256), (-39.857028524, -46.742623908))
            ThreePointArc((-39.857028524, -46.742623908), (-39.640255772, -47.067047257), (-39.564135305, -47.449730689))
            Line((-39.564135305, -47.449730689), (-39.564135305, -58.050269311))
            ThreePointArc((-39.564135305, -58.050269311), (-39.640255772, -58.432952743), (-39.857028524, -58.757376092))
            Line((-39.857028524, -58.757376092), (-41.535317175, -60.435664744))
            ThreePointArc((-41.535317175, -60.435664744), (-42.625107389, -60.652437495), (-43.242423956, -59.728557962))
        make_face()
        with BuildLine():
            Line((-34.535317175, -60.435664744), (-32.857028524, -58.757376092))
            ThreePointArc((-32.857028524, -58.757376092), (-32.640255772, -58.432952743), (-32.564135305, -58.050269311))
            Line((-32.564135305, -58.050269311), (-32.564135305, -47.449730689))
            ThreePointArc((-32.564135305, -47.449730689), (-32.640255772, -47.067047257), (-32.857028524, -46.742623908))
            Line((-32.857028524, -46.742623908), (-34.535317175, -45.064335256))
            ThreePointArc((-34.535317175, -45.064335256), (-35.625107389, -44.847562505), (-36.242423956, -45.771442038))
            Line((-36.242423956, -45.771442038), (-36.242423956, -59.728557962))
            ThreePointArc((-36.242423956, -59.728557962), (-35.625107389, -60.652437495), (-34.535317175, -60.435664744))
        make_face()
        with BuildLine():
            Line((-27.535317175, -60.435664744), (-25.857028524, -58.757376092))
            ThreePointArc((-25.857028524, -58.757376092), (-25.640255772, -58.432952743), (-25.564135305, -58.050269311))
            Line((-25.564135305, -58.050269311), (-25.564135305, -47.449730689))
            ThreePointArc((-25.564135305, -47.449730689), (-25.640255772, -47.067047257), (-25.857028524, -46.742623908))
            Line((-25.857028524, -46.742623908), (-27.535317175, -45.064335256))
            ThreePointArc((-27.535317175, -45.064335256), (-28.625107389, -44.847562505), (-29.242423956, -45.771442038))
            Line((-29.242423956, -45.771442038), (-29.242423956, -59.728557962))
            ThreePointArc((-29.242423956, -59.728557962), (-28.625107389, -60.652437495), (-27.535317175, -60.435664744))
        make_face()
        with BuildLine():
            Line((-20.535317175, -60.435664744), (-18.857028524, -58.757376092))
            ThreePointArc((-18.857028524, -58.757376092), (-18.640255772, -58.432952743), (-18.564135305, -58.050269311))
            Line((-18.564135305, -58.050269311), (-18.564135305, -47.449730689))
            ThreePointArc((-18.564135305, -47.449730689), (-18.640255772, -47.067047257), (-18.857028524, -46.742623908))
            Line((-18.857028524, -46.742623908), (-20.535317175, -45.064335256))
            ThreePointArc((-20.535317175, -45.064335256), (-21.625107389, -44.847562505), (-22.242423956, -45.771442038))
            Line((-22.242423956, -45.771442038), (-22.242423956, -59.728557962))
            ThreePointArc((-22.242423956, -59.728557962), (-21.625107389, -60.652437495), (-20.535317175, -60.435664744))
        make_face()
        with BuildLine():
            Line((-13.535317175, -60.435664744), (-11.857028524, -58.757376092))
            ThreePointArc((-11.857028524, -58.757376092), (-11.640255772, -58.432952743), (-11.564135305, -58.050269311))
            Line((-11.564135305, -58.050269311), (-11.564135305, -47.449730689))
            ThreePointArc((-11.564135305, -47.449730689), (-11.640255772, -47.067047257), (-11.857028524, -46.742623908))
            Line((-11.857028524, -46.742623908), (-13.535317175, -45.064335256))
            ThreePointArc((-13.535317175, -45.064335256), (-14.625107389, -44.847562505), (-15.242423956, -45.771442038))
            Line((-15.242423956, -45.771442038), (-15.242423956, -59.728557962))
            ThreePointArc((-15.242423956, -59.728557962), (-14.625107389, -60.652437495), (-13.535317175, -60.435664744))
        make_face()
        with BuildLine():
            Line((-6.535317175, -60.435664744), (-4.857028524, -58.757376092))
            ThreePointArc((-4.857028524, -58.757376092), (-4.640255772, -58.432952743), (-4.564135305, -58.050269311))
            Line((-4.564135305, -58.050269311), (-4.564135305, -47.449730689))
            ThreePointArc((-4.564135305, -47.449730689), (-4.640255772, -47.067047257), (-4.857028524, -46.742623908))
            Line((-4.857028524, -46.742623908), (-6.535317175, -45.064335256))
            ThreePointArc((-6.535317175, -45.064335256), (-7.625107389, -44.847562505), (-8.242423956, -45.771442038))
            Line((-8.242423956, -45.771442038), (-8.242423956, -59.728557962))
            ThreePointArc((-8.242423956, -59.728557962), (-7.625107389, -60.652437495), (-6.535317175, -60.435664744))
        make_face()
    extrude(amount=-CUT_EXTRUDE_1_DEPTH, mode=Mode.SUBTRACT)


solid = part.part
